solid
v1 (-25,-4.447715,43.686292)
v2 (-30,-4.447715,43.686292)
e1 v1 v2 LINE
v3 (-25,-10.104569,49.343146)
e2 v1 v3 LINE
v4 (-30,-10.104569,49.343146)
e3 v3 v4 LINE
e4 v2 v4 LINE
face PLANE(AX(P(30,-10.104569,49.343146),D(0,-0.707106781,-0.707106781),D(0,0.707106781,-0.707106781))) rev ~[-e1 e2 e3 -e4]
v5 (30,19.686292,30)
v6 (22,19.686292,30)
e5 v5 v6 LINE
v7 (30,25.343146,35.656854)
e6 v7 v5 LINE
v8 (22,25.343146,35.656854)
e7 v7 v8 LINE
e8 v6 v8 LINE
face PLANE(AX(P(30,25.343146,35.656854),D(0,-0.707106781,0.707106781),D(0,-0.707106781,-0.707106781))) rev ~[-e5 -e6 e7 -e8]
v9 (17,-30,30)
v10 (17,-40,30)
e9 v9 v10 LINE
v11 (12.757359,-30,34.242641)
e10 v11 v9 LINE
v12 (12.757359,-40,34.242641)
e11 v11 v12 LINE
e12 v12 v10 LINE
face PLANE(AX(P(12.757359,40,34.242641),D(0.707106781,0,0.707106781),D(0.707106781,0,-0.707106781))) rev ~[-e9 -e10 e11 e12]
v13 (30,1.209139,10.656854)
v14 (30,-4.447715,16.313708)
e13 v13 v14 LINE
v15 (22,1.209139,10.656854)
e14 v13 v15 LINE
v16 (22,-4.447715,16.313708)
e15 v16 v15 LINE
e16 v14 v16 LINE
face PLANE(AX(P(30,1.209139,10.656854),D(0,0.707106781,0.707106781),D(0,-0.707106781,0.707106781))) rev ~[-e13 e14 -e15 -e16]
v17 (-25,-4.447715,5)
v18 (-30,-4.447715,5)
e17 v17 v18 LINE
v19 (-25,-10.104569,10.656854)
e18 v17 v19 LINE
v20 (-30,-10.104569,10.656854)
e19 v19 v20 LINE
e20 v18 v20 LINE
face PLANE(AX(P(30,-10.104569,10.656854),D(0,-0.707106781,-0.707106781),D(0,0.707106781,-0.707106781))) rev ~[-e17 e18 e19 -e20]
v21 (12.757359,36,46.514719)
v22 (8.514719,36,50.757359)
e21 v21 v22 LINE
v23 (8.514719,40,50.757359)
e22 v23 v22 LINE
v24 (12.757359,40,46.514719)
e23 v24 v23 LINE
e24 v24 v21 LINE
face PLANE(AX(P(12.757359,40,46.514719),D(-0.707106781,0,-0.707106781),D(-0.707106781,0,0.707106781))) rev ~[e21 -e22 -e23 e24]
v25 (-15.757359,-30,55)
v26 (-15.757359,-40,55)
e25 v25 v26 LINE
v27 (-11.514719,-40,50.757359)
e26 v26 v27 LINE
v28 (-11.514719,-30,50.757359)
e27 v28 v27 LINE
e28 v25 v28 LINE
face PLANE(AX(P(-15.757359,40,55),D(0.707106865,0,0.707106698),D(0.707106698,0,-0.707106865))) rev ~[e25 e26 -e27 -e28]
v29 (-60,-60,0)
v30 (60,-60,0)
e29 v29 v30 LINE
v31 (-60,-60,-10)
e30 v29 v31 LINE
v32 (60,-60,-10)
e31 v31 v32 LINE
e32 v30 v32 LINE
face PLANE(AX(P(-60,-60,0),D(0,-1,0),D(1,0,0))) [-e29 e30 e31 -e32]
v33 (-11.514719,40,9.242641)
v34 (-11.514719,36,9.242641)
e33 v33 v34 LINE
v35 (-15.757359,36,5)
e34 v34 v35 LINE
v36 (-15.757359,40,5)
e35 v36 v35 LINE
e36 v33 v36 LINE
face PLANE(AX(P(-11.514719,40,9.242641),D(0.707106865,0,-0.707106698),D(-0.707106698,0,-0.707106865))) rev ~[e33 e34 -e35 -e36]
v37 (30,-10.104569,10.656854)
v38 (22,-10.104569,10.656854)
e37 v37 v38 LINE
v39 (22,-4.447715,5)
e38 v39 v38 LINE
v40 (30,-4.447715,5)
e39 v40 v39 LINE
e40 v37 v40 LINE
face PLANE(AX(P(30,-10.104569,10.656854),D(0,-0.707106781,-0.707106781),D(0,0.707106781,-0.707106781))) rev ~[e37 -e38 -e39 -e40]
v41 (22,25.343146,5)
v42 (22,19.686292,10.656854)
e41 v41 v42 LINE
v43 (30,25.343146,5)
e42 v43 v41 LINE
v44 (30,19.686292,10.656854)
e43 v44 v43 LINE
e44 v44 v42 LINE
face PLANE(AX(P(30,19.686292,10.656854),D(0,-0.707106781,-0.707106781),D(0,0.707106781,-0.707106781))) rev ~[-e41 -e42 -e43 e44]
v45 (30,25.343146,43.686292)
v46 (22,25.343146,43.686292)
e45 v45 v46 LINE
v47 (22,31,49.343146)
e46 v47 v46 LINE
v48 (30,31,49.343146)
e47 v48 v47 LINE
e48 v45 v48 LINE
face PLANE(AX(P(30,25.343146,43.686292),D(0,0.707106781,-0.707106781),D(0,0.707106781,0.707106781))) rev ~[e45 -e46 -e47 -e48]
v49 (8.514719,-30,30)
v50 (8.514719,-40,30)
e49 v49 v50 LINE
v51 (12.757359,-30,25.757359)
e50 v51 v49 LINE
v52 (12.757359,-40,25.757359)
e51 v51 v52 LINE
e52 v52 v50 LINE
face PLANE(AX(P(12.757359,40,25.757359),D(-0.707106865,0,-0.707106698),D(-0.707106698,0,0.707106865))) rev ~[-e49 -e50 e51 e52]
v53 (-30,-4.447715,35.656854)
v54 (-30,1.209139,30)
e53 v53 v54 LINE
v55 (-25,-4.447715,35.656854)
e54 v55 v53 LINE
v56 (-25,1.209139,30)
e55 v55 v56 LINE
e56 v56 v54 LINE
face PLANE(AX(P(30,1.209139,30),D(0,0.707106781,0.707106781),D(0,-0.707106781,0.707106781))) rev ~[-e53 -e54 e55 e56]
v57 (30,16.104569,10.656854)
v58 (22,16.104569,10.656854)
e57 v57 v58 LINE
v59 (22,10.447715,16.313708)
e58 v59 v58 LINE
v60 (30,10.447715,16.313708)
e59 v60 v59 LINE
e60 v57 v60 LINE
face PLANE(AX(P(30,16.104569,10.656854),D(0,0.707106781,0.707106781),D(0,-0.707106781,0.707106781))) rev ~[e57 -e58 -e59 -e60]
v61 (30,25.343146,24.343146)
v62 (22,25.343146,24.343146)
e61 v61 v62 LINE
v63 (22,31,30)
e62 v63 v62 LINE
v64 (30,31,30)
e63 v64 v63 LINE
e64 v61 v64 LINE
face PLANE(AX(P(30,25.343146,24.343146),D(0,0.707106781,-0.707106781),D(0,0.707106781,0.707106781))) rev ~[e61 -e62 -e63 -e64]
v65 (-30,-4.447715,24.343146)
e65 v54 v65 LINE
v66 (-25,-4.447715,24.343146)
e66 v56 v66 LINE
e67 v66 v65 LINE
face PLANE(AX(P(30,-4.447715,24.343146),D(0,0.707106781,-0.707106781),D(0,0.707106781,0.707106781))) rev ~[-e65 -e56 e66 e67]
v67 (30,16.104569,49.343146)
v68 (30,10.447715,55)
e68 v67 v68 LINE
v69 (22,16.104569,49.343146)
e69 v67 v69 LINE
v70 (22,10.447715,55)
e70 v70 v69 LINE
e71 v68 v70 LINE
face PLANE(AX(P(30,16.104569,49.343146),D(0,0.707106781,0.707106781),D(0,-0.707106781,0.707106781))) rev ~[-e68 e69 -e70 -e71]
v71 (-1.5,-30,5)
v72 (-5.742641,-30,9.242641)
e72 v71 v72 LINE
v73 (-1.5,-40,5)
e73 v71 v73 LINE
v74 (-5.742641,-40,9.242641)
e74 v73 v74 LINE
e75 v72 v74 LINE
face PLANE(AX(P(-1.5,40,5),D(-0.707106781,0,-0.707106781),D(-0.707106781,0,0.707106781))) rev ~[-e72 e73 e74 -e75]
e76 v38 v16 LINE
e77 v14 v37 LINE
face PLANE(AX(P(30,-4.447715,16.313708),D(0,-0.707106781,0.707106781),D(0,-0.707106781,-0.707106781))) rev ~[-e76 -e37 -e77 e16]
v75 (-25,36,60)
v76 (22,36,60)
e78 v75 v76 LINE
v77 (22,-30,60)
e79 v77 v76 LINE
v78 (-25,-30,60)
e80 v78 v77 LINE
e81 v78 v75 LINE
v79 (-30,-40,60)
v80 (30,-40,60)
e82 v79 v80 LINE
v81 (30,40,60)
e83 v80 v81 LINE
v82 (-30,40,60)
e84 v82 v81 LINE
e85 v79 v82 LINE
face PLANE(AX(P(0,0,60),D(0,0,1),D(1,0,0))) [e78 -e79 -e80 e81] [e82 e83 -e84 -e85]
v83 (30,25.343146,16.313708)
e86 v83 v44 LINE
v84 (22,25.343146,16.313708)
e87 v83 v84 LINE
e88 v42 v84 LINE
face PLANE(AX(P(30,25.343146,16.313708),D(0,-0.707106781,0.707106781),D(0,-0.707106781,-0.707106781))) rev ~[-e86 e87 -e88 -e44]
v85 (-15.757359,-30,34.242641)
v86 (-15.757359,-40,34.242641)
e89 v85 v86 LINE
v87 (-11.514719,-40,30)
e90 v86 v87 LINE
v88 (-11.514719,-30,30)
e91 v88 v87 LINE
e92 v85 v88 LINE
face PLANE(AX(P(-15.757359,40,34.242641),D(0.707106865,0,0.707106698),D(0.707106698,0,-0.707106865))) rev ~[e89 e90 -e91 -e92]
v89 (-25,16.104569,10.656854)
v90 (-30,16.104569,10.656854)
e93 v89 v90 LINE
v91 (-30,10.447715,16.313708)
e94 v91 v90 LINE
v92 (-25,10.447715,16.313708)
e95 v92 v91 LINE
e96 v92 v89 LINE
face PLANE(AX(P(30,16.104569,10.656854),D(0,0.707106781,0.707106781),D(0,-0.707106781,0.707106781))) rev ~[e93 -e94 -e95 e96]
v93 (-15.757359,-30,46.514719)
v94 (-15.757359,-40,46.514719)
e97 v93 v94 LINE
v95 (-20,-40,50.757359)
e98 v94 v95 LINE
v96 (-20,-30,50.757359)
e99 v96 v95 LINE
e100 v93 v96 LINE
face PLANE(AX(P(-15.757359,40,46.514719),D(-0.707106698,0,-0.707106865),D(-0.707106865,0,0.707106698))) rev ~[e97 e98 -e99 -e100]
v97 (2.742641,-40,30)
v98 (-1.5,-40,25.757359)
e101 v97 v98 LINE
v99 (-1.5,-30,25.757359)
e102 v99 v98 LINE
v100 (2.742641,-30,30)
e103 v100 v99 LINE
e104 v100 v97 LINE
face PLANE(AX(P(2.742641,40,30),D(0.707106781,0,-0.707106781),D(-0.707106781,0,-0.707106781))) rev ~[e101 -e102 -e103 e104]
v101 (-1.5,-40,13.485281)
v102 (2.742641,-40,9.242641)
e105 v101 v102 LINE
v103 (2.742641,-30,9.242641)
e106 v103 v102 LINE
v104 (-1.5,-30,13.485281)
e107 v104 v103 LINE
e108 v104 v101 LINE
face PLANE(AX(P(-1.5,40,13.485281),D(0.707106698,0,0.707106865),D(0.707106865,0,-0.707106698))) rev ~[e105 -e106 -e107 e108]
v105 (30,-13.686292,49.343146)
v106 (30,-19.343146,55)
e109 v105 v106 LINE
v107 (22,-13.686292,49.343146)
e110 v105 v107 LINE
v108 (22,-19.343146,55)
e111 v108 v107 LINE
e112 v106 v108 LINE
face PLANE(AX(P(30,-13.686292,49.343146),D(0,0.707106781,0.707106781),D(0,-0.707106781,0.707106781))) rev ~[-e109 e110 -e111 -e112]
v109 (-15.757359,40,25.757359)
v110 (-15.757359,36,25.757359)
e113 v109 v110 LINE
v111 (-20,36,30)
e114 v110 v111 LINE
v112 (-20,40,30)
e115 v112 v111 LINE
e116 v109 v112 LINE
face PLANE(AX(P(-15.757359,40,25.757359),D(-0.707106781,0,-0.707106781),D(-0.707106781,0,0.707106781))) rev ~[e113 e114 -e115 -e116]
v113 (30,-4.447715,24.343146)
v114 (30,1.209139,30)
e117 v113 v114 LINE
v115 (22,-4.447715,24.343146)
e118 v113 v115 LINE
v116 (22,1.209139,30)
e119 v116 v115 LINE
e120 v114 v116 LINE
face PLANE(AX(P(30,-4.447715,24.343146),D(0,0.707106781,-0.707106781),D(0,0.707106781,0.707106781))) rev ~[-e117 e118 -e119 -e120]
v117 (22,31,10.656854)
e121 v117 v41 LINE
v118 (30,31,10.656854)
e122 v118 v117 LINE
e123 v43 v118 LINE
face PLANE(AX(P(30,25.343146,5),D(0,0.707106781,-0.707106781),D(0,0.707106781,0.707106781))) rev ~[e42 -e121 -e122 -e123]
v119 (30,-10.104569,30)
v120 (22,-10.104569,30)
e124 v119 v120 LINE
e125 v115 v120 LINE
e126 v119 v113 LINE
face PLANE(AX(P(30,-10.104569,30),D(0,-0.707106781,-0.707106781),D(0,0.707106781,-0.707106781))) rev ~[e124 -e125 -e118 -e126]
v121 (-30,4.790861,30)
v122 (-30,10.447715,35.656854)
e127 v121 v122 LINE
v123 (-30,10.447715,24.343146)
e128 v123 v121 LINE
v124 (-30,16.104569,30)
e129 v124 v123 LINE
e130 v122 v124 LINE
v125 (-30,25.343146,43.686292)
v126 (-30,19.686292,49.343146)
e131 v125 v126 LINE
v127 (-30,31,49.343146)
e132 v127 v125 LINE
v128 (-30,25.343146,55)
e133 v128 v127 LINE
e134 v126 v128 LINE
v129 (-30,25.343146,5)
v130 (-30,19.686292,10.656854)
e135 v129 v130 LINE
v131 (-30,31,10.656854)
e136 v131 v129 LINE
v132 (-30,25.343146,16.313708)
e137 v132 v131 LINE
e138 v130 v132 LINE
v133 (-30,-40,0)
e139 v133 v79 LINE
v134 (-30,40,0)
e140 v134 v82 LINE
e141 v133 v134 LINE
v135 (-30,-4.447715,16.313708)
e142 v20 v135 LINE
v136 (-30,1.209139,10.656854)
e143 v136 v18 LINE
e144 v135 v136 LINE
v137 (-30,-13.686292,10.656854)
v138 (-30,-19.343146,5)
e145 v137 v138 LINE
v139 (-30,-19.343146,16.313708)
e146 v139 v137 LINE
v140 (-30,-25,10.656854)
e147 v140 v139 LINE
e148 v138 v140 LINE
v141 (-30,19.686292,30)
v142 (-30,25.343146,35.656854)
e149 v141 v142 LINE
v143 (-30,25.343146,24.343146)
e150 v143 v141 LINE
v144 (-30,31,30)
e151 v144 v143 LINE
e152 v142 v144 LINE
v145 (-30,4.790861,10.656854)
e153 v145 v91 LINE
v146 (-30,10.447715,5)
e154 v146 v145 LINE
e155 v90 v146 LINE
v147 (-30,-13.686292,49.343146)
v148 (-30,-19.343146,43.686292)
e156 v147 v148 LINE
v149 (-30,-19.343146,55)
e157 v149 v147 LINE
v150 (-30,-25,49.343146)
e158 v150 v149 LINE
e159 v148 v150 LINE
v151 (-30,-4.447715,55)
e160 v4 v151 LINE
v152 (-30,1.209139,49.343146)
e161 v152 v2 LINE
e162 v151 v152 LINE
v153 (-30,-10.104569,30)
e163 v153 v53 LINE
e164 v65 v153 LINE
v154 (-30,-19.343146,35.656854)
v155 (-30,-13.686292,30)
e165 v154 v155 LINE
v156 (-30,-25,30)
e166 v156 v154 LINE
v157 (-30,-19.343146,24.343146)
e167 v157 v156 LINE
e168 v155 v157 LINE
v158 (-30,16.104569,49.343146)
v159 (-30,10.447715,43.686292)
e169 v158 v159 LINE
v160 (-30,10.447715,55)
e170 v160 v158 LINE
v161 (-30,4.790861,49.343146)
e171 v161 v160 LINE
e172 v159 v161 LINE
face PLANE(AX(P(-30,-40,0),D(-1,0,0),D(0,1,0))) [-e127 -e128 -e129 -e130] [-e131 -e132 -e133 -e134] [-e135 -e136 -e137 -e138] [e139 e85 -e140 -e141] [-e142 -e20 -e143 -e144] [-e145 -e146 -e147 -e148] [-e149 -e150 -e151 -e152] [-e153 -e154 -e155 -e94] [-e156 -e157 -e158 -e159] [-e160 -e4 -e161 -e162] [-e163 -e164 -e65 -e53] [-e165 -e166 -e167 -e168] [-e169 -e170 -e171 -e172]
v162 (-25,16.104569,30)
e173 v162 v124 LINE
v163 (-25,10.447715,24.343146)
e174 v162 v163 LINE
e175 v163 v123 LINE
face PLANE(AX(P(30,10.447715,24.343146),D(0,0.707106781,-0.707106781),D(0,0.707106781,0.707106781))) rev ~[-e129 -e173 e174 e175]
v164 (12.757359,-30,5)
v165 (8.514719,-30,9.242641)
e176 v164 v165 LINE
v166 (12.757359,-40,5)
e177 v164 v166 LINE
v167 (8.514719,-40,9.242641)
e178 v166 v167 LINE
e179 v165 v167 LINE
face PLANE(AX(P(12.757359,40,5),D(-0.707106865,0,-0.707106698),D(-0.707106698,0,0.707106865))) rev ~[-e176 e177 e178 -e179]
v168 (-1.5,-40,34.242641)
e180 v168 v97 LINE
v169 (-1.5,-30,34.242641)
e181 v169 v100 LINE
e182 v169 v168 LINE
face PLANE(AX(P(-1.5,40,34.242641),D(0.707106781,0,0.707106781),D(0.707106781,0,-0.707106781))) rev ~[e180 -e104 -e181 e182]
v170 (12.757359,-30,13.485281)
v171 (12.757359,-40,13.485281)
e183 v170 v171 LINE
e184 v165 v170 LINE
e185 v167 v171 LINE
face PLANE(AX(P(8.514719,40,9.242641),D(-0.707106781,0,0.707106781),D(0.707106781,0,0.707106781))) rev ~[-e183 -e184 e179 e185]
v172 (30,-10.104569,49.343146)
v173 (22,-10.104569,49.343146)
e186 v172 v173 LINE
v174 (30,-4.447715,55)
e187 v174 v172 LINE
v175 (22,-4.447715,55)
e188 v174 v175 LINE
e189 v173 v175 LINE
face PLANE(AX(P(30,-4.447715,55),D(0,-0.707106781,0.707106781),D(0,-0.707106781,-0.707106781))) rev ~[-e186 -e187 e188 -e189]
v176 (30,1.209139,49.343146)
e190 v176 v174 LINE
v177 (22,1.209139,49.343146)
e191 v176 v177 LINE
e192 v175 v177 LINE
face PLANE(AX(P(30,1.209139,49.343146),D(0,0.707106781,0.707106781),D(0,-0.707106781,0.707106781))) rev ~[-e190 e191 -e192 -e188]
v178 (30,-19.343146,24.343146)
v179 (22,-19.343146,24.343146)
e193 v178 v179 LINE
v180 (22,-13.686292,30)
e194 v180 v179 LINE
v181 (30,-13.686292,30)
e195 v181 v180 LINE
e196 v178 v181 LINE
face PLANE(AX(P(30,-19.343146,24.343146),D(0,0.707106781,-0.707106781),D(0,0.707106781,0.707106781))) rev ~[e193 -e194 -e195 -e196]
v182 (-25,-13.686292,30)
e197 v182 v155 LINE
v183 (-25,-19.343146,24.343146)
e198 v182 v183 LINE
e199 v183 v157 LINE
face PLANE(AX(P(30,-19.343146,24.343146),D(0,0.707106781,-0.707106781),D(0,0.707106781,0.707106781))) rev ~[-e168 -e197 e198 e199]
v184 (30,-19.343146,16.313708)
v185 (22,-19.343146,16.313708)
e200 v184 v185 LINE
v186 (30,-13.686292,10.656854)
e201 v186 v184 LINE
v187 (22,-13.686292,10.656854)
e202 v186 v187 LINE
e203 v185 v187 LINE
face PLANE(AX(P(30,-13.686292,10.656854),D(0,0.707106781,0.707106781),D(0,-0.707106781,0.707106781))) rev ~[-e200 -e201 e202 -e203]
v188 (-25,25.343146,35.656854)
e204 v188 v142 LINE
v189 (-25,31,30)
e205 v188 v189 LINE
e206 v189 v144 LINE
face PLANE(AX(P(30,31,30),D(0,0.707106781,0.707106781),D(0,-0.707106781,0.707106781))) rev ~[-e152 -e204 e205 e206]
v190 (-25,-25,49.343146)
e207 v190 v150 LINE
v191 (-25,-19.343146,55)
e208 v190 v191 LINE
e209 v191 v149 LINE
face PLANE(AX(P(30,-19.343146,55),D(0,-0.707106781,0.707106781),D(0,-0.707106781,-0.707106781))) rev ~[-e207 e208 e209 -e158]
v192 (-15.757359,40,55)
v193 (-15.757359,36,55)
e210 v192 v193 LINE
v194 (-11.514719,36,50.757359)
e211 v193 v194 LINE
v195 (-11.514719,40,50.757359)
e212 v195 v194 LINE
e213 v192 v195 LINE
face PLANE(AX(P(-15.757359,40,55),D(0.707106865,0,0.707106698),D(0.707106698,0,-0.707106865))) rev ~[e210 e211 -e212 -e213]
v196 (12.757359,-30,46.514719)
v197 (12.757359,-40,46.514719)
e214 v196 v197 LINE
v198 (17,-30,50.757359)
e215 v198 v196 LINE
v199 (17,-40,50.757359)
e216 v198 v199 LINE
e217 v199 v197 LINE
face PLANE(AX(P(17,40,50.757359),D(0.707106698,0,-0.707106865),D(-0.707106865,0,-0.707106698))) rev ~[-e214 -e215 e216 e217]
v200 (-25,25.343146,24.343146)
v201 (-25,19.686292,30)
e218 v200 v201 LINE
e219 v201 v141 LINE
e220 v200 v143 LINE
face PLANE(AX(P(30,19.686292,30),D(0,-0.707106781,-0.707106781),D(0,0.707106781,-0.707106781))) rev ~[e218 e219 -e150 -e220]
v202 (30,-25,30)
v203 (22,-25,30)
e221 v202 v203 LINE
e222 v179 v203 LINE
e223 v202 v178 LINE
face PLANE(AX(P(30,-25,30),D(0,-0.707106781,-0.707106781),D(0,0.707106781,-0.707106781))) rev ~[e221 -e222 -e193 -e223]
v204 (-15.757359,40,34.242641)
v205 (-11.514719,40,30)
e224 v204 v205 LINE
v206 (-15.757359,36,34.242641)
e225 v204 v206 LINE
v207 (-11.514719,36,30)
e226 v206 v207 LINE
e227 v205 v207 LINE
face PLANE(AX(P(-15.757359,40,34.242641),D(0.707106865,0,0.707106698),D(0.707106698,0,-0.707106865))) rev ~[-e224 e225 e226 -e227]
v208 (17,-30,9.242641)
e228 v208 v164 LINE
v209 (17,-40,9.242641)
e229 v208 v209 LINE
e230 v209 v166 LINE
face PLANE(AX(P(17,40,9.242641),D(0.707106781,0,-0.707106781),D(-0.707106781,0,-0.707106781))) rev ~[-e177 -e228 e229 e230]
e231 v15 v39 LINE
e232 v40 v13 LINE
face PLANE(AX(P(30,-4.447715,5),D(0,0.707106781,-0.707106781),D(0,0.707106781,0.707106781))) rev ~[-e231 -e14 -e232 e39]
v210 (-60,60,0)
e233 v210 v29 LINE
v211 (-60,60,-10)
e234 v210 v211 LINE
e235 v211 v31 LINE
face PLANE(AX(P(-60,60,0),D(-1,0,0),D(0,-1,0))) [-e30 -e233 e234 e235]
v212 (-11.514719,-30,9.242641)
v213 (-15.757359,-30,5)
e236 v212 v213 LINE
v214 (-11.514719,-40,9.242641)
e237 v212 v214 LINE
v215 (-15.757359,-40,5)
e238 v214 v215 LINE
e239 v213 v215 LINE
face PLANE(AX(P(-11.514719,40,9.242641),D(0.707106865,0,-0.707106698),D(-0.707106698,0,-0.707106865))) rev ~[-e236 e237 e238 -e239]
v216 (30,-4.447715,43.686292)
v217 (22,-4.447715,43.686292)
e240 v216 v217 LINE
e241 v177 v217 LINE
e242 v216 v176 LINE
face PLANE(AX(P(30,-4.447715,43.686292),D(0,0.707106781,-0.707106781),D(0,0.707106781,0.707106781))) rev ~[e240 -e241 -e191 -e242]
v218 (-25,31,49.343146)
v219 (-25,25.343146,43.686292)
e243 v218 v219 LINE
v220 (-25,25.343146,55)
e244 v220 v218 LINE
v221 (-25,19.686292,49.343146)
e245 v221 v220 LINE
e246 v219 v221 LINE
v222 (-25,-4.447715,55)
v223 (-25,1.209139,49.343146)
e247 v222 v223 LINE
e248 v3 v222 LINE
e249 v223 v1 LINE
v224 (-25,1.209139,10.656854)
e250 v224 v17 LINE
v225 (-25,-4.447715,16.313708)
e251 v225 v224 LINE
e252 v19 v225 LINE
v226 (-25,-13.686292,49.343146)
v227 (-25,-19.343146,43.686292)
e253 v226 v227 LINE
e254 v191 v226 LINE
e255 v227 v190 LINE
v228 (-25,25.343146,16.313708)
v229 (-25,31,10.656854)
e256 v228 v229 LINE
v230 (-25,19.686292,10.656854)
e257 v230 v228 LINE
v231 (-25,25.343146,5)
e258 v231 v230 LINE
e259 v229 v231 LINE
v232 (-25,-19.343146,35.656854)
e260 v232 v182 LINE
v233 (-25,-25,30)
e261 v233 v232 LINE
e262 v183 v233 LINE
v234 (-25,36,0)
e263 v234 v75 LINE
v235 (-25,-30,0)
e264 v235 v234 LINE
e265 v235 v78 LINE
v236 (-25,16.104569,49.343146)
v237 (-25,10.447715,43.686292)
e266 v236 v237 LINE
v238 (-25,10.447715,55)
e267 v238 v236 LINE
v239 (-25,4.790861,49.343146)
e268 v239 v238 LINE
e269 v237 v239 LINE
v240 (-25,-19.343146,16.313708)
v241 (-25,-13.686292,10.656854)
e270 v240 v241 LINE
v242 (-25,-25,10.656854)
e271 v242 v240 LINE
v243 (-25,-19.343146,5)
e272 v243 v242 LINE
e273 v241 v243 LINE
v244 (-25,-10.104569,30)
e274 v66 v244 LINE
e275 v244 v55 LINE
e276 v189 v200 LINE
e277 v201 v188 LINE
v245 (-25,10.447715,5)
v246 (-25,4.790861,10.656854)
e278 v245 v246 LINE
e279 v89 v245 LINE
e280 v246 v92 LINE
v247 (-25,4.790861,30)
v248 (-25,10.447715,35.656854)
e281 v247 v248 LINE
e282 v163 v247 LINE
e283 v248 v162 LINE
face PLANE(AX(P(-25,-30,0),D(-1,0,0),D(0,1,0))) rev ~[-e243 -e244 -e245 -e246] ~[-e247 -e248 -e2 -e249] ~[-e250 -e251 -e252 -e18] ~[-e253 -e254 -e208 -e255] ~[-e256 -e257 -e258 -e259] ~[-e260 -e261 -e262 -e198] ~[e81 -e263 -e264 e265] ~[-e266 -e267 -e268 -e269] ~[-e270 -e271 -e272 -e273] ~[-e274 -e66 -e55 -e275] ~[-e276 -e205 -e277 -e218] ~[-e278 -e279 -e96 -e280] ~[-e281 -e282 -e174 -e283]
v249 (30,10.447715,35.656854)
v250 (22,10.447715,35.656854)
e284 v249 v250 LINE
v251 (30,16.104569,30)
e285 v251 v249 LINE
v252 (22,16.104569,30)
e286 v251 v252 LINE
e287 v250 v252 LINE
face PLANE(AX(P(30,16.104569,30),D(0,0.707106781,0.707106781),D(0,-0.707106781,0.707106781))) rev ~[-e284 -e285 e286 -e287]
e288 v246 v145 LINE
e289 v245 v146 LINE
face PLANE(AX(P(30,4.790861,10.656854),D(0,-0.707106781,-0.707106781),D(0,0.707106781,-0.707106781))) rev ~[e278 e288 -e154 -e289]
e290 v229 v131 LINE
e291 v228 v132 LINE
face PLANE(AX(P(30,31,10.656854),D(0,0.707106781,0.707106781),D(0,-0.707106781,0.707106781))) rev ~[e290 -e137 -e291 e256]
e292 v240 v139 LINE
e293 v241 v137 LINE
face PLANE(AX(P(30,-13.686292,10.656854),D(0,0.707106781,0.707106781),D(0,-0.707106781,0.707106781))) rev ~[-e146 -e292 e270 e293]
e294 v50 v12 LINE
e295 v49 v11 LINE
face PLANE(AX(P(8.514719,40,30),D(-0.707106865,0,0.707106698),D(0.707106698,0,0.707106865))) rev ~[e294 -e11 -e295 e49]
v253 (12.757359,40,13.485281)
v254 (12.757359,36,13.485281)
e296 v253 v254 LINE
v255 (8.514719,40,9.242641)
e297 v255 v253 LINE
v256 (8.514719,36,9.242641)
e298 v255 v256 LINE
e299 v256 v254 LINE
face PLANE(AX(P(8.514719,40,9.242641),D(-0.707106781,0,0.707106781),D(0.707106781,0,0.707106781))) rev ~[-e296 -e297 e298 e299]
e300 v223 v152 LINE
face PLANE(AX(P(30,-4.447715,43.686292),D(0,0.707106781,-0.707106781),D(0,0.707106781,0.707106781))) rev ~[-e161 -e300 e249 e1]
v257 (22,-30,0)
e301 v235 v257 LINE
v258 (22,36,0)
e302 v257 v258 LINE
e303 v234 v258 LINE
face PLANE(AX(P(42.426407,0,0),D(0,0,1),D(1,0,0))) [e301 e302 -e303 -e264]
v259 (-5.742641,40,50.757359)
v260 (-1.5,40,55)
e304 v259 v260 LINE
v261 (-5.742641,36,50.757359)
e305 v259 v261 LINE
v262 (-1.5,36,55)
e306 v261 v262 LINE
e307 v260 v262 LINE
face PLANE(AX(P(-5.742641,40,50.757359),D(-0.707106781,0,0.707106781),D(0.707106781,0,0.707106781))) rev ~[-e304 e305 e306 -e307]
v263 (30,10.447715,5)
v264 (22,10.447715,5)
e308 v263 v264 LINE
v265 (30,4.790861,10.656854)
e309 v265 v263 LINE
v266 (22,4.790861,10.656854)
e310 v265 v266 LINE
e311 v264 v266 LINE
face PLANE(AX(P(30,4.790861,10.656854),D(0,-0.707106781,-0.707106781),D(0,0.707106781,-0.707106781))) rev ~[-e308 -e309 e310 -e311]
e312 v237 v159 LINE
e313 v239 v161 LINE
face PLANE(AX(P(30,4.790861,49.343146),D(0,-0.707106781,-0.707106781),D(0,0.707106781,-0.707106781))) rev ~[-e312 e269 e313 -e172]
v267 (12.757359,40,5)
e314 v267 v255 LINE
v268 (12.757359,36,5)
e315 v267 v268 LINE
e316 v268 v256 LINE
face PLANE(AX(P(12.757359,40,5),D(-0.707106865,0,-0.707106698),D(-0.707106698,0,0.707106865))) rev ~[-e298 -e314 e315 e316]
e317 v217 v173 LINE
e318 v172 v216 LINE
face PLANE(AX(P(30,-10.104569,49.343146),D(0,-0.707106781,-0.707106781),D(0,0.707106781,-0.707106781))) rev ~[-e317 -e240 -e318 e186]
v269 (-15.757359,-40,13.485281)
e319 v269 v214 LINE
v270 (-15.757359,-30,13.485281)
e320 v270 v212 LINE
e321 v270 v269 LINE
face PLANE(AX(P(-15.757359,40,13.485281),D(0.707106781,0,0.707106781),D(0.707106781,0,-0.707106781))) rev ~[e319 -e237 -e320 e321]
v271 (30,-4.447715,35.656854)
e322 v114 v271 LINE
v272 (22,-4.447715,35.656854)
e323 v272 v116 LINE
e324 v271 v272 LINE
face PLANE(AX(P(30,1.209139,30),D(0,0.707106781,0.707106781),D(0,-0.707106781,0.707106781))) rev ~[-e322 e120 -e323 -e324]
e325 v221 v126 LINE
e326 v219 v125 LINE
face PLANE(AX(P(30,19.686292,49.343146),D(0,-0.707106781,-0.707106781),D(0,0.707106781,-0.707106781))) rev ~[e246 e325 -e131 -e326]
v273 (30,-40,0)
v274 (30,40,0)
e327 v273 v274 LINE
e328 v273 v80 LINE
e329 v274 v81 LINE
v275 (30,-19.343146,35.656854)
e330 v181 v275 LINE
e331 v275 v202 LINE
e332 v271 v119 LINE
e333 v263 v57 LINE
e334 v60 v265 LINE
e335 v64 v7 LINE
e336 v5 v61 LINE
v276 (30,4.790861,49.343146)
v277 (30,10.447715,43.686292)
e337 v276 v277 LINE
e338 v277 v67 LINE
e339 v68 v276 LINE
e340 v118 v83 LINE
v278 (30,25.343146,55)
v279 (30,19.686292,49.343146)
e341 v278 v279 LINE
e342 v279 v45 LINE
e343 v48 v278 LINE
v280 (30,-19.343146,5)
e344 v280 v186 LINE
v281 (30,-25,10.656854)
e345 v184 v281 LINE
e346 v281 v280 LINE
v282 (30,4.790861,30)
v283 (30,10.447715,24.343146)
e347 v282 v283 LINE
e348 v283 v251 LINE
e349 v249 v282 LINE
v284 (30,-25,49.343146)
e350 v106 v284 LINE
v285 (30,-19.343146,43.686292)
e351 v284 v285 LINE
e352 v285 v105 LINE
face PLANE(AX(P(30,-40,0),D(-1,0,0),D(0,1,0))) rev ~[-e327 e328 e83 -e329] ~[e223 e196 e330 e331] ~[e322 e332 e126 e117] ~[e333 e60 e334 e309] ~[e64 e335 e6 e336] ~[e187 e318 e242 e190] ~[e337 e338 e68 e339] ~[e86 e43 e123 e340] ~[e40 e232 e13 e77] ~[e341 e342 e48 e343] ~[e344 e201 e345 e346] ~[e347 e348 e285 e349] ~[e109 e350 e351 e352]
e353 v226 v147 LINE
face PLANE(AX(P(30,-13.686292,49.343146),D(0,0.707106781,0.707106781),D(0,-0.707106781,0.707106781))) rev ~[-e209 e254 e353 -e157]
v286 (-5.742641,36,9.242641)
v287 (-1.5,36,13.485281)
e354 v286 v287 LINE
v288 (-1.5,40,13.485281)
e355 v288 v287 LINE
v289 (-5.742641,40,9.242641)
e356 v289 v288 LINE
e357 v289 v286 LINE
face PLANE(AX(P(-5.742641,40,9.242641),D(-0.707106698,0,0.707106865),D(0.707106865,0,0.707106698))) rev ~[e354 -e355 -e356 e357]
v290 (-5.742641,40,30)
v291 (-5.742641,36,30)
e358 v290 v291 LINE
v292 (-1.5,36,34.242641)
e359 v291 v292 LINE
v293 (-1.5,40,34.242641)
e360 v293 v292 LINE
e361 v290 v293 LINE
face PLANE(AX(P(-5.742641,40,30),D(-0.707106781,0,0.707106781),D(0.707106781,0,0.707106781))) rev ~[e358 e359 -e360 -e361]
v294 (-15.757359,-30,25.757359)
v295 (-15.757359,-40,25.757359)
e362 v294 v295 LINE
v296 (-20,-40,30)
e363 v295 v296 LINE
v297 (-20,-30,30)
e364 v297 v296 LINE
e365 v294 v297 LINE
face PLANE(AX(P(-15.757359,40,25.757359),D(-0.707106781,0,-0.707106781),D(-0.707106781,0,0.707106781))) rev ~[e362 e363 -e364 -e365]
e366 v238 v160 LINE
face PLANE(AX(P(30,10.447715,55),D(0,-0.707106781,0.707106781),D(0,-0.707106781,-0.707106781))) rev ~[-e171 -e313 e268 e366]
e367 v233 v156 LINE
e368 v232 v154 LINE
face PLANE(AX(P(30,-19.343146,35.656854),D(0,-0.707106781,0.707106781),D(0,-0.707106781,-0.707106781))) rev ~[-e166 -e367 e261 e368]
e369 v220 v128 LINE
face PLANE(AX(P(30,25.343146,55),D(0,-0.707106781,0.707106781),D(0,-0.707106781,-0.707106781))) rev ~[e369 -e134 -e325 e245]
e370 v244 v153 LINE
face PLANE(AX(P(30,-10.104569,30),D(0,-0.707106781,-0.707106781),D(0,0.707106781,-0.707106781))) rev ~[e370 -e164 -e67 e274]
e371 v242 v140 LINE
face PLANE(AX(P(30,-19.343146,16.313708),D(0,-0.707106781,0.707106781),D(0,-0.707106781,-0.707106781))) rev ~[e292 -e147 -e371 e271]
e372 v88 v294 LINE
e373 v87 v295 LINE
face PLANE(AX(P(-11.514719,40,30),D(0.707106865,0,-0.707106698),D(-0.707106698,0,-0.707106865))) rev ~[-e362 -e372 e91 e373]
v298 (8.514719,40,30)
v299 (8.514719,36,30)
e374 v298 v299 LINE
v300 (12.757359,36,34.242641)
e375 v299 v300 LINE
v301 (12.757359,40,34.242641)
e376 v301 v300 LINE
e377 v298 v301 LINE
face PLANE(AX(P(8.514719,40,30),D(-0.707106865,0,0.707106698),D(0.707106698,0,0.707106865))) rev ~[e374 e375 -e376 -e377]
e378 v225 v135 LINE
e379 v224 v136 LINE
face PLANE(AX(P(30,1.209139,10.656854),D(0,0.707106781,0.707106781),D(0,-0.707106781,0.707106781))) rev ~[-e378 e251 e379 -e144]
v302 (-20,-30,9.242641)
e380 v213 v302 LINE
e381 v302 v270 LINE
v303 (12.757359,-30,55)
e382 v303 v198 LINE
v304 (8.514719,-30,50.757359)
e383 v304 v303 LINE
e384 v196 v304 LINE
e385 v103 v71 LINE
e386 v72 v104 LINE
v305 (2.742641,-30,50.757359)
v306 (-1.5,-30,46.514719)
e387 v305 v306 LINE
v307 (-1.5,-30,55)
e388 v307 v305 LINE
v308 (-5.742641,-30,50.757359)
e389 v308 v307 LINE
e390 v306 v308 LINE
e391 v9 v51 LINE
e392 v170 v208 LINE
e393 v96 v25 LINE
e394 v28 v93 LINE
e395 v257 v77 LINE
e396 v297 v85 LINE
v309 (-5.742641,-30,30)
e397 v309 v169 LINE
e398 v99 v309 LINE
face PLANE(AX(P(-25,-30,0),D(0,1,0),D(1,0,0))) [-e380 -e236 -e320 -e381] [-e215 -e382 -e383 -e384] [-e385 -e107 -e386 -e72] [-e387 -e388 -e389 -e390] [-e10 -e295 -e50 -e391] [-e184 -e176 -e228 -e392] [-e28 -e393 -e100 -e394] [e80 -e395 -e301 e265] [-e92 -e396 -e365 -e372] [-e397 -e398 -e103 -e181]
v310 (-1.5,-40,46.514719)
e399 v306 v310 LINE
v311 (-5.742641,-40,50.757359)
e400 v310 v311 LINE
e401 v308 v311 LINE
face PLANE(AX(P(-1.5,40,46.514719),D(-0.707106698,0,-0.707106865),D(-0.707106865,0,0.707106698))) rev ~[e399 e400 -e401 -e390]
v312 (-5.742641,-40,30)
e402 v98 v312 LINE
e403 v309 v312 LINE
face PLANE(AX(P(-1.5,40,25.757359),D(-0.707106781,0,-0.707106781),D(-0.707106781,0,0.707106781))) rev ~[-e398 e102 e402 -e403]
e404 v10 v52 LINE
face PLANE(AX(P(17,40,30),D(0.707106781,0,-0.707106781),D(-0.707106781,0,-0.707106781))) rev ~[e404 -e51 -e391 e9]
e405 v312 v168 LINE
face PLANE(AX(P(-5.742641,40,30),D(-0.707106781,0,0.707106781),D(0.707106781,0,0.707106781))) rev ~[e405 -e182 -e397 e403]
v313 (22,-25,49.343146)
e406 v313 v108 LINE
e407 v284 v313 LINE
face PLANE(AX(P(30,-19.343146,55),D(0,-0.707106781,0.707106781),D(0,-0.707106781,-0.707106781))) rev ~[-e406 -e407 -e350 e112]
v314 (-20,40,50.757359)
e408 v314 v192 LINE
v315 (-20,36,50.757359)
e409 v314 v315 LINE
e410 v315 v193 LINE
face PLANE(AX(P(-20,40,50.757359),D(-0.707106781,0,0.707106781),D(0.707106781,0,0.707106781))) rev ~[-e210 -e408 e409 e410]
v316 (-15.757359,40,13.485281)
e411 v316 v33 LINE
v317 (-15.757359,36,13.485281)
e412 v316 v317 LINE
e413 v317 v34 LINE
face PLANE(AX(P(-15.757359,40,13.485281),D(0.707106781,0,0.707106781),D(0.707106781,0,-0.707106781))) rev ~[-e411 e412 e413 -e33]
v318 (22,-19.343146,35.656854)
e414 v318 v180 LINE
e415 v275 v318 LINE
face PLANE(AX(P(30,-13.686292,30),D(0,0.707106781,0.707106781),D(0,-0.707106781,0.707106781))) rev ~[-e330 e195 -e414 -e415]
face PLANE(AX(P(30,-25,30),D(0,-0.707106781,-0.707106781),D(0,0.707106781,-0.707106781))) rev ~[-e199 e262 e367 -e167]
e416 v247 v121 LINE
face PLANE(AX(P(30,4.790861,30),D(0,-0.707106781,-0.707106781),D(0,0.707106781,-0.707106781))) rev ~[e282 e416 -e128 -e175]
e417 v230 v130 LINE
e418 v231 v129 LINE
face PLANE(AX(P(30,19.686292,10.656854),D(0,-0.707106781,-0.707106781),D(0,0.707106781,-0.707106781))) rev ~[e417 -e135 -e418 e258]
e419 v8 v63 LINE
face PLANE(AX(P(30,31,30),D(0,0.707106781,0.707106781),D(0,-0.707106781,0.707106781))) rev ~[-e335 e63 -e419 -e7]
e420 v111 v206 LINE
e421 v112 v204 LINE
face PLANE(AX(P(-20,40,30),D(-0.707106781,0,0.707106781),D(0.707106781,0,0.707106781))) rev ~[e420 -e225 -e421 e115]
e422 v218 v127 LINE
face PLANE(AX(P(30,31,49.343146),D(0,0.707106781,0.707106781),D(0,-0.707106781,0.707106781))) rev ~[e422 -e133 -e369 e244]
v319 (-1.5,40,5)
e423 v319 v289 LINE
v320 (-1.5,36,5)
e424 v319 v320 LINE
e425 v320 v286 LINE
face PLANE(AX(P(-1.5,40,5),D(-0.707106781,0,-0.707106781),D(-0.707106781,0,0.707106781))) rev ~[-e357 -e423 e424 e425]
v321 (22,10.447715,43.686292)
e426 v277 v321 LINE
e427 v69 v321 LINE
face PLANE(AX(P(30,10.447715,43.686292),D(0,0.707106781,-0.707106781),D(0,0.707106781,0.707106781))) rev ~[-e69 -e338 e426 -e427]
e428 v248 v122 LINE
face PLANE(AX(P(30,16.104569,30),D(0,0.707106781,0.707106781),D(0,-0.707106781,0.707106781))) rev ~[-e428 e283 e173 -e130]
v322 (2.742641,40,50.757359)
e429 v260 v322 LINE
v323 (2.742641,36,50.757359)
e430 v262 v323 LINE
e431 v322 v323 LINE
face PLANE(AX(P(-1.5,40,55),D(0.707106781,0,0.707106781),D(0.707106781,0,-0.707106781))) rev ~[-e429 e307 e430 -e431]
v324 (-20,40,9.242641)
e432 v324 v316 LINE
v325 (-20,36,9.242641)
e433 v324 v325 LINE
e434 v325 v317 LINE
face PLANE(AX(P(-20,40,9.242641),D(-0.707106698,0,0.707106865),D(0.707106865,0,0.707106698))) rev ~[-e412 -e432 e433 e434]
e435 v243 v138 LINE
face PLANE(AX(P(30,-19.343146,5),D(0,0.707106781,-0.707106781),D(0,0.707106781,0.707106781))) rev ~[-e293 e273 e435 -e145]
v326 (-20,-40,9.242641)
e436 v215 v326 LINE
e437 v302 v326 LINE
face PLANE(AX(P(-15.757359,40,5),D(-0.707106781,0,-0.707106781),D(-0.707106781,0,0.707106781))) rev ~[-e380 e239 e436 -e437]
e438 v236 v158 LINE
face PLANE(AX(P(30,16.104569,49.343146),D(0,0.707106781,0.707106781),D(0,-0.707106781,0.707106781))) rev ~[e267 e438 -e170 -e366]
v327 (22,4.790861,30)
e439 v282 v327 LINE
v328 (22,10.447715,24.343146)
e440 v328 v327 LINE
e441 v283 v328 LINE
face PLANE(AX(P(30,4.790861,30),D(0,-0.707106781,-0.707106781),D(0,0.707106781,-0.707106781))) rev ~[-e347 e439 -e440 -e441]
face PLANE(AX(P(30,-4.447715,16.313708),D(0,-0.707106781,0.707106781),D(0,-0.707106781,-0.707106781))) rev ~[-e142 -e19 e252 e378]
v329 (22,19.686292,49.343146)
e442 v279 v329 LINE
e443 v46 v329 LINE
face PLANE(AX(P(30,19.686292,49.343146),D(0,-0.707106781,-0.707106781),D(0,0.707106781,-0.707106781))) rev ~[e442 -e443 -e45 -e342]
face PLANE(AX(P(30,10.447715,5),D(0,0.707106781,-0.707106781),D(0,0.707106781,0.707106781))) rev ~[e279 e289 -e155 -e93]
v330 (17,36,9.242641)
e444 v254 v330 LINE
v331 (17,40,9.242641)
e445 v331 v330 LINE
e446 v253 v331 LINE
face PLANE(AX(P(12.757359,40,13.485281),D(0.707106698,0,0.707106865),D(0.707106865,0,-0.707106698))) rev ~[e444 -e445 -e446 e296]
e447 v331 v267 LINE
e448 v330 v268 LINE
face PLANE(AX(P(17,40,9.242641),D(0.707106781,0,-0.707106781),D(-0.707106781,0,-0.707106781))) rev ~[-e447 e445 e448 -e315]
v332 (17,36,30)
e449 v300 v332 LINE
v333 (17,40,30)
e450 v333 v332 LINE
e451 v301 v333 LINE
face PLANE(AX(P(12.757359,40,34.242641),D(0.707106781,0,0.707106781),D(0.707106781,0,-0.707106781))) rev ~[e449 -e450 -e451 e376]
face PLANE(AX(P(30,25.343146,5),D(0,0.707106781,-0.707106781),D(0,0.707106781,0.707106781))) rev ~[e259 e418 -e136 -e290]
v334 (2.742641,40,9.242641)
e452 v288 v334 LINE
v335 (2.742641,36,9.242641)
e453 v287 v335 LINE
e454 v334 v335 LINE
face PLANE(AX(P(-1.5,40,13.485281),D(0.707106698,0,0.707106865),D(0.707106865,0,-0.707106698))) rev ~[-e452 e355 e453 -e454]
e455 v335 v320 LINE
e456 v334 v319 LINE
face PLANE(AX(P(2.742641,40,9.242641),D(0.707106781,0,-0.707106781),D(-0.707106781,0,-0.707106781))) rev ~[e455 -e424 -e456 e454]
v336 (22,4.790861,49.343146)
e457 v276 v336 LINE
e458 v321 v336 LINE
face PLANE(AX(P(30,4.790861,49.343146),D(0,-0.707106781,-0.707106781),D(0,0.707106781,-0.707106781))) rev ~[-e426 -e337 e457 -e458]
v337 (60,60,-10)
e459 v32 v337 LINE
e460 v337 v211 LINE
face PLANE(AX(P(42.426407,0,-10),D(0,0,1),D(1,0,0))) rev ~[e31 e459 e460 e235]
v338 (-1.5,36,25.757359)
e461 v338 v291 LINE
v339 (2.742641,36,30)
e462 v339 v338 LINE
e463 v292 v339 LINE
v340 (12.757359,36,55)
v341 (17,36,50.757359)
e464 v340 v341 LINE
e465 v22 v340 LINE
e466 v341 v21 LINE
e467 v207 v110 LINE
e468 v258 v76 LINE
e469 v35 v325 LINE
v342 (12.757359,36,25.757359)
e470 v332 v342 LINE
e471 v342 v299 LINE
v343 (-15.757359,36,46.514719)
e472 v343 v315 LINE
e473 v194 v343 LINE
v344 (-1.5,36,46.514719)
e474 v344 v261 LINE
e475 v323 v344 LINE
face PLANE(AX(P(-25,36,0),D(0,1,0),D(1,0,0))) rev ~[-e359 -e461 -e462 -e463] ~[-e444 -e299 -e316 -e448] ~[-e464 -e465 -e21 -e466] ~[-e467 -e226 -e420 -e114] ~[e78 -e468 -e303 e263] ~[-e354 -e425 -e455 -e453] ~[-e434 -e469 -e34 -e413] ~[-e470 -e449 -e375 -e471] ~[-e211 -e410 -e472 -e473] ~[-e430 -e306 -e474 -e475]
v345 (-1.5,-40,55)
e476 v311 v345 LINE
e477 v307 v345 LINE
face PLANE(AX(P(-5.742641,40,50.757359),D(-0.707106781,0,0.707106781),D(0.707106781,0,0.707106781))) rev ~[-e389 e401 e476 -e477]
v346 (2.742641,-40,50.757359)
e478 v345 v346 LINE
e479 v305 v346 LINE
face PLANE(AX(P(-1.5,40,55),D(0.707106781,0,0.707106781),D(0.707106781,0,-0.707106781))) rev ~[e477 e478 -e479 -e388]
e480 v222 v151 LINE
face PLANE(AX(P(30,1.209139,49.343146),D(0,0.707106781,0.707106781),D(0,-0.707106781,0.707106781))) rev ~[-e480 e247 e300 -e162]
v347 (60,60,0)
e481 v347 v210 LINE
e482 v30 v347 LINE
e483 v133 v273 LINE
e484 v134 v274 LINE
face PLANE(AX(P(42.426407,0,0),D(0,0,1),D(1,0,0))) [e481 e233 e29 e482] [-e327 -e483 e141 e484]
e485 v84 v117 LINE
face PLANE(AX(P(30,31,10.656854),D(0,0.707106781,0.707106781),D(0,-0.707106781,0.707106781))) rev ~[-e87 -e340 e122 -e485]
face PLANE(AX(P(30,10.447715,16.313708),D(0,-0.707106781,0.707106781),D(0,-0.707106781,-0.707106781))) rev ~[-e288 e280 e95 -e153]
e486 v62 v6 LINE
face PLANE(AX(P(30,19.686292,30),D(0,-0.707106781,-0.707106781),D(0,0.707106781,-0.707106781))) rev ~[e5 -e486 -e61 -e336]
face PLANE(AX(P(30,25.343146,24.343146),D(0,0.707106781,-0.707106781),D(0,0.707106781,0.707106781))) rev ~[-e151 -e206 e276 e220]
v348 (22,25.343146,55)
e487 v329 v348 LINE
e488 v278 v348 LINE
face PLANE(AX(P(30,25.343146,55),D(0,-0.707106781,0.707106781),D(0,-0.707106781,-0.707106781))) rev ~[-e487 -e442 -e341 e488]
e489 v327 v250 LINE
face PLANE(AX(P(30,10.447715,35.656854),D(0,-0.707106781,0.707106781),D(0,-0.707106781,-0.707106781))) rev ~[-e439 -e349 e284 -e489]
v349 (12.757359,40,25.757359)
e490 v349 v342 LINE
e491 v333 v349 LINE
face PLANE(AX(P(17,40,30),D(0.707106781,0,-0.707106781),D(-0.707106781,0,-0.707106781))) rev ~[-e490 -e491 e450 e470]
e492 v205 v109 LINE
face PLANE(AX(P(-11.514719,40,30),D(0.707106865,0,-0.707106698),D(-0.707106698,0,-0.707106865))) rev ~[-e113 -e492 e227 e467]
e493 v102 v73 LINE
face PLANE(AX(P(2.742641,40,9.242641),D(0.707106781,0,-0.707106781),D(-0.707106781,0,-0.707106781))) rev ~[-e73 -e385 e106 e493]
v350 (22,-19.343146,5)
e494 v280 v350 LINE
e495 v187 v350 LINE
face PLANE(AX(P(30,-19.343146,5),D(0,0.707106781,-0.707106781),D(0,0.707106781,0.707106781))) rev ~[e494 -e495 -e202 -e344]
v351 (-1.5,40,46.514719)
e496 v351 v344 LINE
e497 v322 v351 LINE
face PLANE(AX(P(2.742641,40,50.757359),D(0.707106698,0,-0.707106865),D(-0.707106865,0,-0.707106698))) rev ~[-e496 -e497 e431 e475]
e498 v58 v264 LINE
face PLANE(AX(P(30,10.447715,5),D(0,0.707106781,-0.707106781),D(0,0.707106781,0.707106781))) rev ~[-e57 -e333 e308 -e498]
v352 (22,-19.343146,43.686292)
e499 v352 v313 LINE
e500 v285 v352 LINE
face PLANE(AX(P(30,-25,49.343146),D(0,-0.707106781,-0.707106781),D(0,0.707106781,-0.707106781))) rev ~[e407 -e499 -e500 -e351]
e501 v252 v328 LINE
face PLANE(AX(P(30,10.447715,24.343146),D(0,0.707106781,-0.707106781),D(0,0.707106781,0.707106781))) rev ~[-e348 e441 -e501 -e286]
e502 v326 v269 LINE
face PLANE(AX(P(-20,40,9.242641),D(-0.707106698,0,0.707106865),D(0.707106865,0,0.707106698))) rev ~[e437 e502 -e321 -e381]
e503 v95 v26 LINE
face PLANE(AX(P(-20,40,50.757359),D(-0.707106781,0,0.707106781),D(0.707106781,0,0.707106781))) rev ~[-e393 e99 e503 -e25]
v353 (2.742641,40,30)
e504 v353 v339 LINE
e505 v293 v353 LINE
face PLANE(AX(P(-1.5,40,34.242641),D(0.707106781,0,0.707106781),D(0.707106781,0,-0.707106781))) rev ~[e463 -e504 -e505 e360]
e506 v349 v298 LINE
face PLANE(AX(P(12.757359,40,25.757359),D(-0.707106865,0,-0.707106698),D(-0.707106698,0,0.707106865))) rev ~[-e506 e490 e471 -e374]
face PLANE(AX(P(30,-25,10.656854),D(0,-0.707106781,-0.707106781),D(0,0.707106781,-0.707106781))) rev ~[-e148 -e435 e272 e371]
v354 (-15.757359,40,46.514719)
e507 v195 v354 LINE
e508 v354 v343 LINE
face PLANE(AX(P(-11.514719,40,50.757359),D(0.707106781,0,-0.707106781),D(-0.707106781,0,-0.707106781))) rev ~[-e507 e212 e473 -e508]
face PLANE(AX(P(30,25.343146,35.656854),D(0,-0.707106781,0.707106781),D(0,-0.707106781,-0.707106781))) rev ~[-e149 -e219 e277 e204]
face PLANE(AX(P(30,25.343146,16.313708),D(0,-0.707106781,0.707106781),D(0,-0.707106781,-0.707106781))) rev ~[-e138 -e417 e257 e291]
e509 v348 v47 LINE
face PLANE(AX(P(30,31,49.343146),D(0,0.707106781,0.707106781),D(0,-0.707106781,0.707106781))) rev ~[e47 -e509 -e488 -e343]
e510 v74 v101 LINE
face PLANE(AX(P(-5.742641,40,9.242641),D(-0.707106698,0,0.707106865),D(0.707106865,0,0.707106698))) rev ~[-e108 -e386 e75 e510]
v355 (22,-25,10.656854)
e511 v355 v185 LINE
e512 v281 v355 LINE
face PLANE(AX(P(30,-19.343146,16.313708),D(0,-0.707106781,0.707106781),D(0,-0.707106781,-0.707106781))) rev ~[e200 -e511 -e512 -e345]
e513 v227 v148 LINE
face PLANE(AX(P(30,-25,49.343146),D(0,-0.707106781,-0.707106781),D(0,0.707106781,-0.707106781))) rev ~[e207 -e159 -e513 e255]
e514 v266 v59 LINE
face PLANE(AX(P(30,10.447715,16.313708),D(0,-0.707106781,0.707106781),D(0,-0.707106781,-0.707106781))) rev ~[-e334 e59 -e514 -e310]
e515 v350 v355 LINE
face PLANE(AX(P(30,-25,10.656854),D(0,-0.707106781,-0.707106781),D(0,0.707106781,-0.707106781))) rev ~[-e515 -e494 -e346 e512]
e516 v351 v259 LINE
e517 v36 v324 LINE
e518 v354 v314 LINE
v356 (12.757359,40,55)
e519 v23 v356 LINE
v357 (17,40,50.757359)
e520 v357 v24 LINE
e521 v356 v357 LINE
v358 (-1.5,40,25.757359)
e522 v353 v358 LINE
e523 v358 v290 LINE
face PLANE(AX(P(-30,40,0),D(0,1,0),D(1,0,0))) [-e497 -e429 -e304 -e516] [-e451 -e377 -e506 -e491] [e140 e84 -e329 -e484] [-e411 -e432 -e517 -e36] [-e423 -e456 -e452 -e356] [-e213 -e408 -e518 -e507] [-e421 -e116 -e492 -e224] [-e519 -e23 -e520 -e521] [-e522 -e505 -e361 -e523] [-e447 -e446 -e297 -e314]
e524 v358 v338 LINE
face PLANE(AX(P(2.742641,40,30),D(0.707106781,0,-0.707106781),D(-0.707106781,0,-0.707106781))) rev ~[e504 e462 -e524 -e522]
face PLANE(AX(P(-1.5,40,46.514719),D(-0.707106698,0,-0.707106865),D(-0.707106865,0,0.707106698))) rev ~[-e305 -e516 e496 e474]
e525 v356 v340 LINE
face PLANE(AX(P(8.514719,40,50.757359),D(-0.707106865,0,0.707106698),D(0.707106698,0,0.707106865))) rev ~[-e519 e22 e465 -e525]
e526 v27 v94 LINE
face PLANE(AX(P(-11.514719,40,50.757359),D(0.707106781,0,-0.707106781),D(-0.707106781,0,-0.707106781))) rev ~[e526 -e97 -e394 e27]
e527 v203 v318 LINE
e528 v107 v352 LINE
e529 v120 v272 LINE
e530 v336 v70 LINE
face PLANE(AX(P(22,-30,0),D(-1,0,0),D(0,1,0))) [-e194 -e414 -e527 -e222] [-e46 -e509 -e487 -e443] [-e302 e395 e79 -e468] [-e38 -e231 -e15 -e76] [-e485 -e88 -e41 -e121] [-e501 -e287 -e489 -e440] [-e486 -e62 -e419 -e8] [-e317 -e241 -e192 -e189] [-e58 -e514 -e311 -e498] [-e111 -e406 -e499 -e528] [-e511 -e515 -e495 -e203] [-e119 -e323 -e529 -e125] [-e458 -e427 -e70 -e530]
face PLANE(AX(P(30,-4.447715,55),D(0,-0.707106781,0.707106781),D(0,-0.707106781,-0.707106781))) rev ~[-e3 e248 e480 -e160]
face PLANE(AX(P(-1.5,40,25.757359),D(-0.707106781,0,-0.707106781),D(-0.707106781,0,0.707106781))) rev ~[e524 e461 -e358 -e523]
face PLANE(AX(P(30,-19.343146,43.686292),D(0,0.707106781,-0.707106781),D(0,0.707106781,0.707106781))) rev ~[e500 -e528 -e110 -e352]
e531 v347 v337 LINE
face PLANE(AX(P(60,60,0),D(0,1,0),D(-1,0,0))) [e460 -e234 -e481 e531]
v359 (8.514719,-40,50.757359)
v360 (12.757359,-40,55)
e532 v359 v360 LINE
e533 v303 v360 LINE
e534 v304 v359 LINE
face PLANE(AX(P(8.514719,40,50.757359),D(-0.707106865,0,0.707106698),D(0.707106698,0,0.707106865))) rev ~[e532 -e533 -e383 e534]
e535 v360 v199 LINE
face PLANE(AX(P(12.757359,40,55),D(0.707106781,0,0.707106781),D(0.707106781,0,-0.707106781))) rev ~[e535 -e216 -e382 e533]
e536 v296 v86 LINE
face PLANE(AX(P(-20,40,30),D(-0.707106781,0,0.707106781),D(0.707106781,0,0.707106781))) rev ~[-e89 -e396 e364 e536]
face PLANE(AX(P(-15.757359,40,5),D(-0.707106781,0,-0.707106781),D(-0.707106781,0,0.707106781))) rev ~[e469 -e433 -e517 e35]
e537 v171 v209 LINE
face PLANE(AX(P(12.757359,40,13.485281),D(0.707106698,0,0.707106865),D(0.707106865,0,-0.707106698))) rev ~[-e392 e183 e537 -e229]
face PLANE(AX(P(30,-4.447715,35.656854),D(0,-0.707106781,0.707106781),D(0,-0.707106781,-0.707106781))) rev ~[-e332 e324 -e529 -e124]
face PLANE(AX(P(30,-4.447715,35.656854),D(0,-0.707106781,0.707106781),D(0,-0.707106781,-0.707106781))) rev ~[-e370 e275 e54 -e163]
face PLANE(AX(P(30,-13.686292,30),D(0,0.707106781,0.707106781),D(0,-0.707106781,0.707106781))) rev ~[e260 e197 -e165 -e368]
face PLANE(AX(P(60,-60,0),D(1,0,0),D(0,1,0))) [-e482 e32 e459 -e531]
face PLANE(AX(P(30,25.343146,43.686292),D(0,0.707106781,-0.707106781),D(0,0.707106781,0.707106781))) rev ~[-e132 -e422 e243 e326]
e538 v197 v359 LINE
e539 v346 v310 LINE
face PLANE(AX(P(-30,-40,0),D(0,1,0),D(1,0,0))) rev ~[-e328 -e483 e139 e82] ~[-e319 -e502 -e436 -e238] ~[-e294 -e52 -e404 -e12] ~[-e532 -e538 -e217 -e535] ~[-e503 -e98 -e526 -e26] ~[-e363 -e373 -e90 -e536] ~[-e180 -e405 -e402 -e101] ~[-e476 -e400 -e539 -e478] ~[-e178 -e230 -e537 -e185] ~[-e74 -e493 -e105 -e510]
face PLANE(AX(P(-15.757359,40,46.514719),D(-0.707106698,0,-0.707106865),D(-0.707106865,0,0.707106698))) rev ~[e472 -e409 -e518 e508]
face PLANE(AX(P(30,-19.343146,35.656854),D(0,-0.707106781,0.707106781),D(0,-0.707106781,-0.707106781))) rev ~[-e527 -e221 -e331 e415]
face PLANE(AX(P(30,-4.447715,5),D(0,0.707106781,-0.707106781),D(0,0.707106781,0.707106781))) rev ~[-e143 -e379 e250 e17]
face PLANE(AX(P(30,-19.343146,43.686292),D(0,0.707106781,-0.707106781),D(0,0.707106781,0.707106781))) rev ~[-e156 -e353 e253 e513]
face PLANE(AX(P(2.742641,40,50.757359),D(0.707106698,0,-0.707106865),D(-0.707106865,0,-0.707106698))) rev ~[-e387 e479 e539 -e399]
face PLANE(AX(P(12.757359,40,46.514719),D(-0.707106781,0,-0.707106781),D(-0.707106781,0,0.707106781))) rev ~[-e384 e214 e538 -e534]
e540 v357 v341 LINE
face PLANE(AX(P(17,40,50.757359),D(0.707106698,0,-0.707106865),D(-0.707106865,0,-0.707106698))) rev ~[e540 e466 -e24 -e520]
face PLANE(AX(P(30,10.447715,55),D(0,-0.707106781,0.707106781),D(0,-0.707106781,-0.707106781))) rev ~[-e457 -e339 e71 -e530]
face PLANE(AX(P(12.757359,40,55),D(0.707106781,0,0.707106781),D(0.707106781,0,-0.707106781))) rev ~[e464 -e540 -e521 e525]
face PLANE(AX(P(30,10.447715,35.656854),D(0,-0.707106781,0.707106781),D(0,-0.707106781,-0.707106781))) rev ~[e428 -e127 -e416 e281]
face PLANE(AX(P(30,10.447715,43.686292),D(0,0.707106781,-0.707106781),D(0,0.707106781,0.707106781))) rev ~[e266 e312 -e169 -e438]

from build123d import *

# Parameters (mm, degrees)
F0_W     = 60
F0_H     = 80
F0_W_2   = 47
F0_H_2   = 66
F1_DEPTH = 60
F3_DEPTH = 60.001
F5_DEPTH = 80.001
F7_DEPTH = 10


with BuildPart() as f1:
    # F0 (on Top) → F1 (new body)
    with BuildSketch(Plane.XY):
        Rectangle(F0_W, F0_H)
        with Locations((-1.5, 3)):
            Rectangle(F0_W_2, F0_H_2, mode=Mode.SUBTRACT)
    extrude(amount=F1_DEPTH)

    # F2 (on face) → F3 (cut, through all)
    with BuildSketch(Plane.YZ.offset(30)):
        Polygon((-19.343146, 55), (-25, 49.343146), (-19.343146, 43.686292), (-13.686292, 49.343146), align=None)
        Polygon((-4.447715, 55), (-10.104569, 49.343146), (-4.447715, 43.686292), (1.209139, 49.343146), align=None)
        Polygon((10.447715, 55), (4.790861, 49.343146), (10.447715, 43.686292), (16.104569, 49.343146), align=None)
        Polygon((25.343146, 55), (19.686292, 49.343146), (25.343146, 43.686292), (31, 49.343146), align=None)
        Polygon((-10.104569, 30), (-4.447715, 24.343146), (1.209139, 30), (-4.447715, 35.656854), align=None)
        Polygon((25.343146, 24.343146), (31, 30), (25.343146, 35.656854), (19.686292, 30), align=None)
        Polygon((-19.343146, 35.656854), (-25, 30), (-19.343146, 24.343146), (-13.686292, 30), align=None)
        Polygon((10.447715, 35.656854), (4.790861, 30), (10.447715, 24.343146), (16.104569, 30), align=None)
        Polygon((-10.104569, 10.656854), (-4.447715, 5), (1.209139, 10.656854), (-4.447715, 16.313708), align=None)
        Polygon((25.343146, 5), (31, 10.656854), (25.343146, 16.313708), (19.686292, 10.656854), align=None)
        Polygon((-19.343146, 16.313708), (-25, 10.656854), (-19.343146, 5), (-13.686292, 10.656854), align=None)
        Polygon((10.447715, 16.313708), (4.790861, 10.656854), (10.447715, 5), (16.104569, 10.656854), align=None)
    extrude(amount=-F3_DEPTH, mode=Mode.SUBTRACT)

    # F4 (on face) → F5 (cut, through all)
    with BuildSketch(Plane(origin=(0, 40, 0), x_dir=(-1, 0, 0), z_dir=(0, 1, 0))):
        Polygon((-12.757359, 55), (-17, 50.757359), (-12.757359, 46.514719), (-8.514719, 50.757359), align=None)
        Polygon((-8.514719, 30), (-12.757359, 34.242641), (-17, 30), (-12.757359, 25.757359), align=None)
        Polygon((-8.514719, 9.242641), (-12.757359, 13.485281), (-17, 9.242641), (-12.757359, 5), align=None)
        Polygon((5.742641, 50.757359), (1.5, 55), (-2.742641, 50.757359), (1.5, 46.514719), align=None)
        Polygon((5.742641, 30), (1.5, 34.242641), (-2.742641, 30), (1.5, 25.757359), align=None)
        Polygon((5.742641, 9.242641), (1.5, 13.485281), (-2.742641, 9.242641), (1.5, 5), align=None)
        Polygon((20, 50.757359), (15.757359, 55), (11.514719, 50.757359), (15.757359, 46.514719), align=None)
        Polygon((20, 30), (15.757359, 34.242641), (11.514719, 30), (15.757359, 25.757359), align=None)
        Polygon((20, 9.242641), (15.757359, 13.485281), (11.514719, 9.242641), (15.757359, 5), align=None)
    extrude(amount=-F5_DEPTH, mode=Mode.SUBTRACT)

    # F6 (on Top) → F7 (join)
    with BuildSketch(Plane.XY):
        Polygon((0, 0), (60, -60), (60, 60), align=None)
        Polygon((-60, -60), (60, -60), (0, 0), align=None)
        Polygon((-60, 60), (-60, -60), (0, 0), align=None)
        Polygon((0, 0), (60, 60), (-60, 60), align=None)
    extrude(amount=-F7_DEPTH)


solid = f1.part
